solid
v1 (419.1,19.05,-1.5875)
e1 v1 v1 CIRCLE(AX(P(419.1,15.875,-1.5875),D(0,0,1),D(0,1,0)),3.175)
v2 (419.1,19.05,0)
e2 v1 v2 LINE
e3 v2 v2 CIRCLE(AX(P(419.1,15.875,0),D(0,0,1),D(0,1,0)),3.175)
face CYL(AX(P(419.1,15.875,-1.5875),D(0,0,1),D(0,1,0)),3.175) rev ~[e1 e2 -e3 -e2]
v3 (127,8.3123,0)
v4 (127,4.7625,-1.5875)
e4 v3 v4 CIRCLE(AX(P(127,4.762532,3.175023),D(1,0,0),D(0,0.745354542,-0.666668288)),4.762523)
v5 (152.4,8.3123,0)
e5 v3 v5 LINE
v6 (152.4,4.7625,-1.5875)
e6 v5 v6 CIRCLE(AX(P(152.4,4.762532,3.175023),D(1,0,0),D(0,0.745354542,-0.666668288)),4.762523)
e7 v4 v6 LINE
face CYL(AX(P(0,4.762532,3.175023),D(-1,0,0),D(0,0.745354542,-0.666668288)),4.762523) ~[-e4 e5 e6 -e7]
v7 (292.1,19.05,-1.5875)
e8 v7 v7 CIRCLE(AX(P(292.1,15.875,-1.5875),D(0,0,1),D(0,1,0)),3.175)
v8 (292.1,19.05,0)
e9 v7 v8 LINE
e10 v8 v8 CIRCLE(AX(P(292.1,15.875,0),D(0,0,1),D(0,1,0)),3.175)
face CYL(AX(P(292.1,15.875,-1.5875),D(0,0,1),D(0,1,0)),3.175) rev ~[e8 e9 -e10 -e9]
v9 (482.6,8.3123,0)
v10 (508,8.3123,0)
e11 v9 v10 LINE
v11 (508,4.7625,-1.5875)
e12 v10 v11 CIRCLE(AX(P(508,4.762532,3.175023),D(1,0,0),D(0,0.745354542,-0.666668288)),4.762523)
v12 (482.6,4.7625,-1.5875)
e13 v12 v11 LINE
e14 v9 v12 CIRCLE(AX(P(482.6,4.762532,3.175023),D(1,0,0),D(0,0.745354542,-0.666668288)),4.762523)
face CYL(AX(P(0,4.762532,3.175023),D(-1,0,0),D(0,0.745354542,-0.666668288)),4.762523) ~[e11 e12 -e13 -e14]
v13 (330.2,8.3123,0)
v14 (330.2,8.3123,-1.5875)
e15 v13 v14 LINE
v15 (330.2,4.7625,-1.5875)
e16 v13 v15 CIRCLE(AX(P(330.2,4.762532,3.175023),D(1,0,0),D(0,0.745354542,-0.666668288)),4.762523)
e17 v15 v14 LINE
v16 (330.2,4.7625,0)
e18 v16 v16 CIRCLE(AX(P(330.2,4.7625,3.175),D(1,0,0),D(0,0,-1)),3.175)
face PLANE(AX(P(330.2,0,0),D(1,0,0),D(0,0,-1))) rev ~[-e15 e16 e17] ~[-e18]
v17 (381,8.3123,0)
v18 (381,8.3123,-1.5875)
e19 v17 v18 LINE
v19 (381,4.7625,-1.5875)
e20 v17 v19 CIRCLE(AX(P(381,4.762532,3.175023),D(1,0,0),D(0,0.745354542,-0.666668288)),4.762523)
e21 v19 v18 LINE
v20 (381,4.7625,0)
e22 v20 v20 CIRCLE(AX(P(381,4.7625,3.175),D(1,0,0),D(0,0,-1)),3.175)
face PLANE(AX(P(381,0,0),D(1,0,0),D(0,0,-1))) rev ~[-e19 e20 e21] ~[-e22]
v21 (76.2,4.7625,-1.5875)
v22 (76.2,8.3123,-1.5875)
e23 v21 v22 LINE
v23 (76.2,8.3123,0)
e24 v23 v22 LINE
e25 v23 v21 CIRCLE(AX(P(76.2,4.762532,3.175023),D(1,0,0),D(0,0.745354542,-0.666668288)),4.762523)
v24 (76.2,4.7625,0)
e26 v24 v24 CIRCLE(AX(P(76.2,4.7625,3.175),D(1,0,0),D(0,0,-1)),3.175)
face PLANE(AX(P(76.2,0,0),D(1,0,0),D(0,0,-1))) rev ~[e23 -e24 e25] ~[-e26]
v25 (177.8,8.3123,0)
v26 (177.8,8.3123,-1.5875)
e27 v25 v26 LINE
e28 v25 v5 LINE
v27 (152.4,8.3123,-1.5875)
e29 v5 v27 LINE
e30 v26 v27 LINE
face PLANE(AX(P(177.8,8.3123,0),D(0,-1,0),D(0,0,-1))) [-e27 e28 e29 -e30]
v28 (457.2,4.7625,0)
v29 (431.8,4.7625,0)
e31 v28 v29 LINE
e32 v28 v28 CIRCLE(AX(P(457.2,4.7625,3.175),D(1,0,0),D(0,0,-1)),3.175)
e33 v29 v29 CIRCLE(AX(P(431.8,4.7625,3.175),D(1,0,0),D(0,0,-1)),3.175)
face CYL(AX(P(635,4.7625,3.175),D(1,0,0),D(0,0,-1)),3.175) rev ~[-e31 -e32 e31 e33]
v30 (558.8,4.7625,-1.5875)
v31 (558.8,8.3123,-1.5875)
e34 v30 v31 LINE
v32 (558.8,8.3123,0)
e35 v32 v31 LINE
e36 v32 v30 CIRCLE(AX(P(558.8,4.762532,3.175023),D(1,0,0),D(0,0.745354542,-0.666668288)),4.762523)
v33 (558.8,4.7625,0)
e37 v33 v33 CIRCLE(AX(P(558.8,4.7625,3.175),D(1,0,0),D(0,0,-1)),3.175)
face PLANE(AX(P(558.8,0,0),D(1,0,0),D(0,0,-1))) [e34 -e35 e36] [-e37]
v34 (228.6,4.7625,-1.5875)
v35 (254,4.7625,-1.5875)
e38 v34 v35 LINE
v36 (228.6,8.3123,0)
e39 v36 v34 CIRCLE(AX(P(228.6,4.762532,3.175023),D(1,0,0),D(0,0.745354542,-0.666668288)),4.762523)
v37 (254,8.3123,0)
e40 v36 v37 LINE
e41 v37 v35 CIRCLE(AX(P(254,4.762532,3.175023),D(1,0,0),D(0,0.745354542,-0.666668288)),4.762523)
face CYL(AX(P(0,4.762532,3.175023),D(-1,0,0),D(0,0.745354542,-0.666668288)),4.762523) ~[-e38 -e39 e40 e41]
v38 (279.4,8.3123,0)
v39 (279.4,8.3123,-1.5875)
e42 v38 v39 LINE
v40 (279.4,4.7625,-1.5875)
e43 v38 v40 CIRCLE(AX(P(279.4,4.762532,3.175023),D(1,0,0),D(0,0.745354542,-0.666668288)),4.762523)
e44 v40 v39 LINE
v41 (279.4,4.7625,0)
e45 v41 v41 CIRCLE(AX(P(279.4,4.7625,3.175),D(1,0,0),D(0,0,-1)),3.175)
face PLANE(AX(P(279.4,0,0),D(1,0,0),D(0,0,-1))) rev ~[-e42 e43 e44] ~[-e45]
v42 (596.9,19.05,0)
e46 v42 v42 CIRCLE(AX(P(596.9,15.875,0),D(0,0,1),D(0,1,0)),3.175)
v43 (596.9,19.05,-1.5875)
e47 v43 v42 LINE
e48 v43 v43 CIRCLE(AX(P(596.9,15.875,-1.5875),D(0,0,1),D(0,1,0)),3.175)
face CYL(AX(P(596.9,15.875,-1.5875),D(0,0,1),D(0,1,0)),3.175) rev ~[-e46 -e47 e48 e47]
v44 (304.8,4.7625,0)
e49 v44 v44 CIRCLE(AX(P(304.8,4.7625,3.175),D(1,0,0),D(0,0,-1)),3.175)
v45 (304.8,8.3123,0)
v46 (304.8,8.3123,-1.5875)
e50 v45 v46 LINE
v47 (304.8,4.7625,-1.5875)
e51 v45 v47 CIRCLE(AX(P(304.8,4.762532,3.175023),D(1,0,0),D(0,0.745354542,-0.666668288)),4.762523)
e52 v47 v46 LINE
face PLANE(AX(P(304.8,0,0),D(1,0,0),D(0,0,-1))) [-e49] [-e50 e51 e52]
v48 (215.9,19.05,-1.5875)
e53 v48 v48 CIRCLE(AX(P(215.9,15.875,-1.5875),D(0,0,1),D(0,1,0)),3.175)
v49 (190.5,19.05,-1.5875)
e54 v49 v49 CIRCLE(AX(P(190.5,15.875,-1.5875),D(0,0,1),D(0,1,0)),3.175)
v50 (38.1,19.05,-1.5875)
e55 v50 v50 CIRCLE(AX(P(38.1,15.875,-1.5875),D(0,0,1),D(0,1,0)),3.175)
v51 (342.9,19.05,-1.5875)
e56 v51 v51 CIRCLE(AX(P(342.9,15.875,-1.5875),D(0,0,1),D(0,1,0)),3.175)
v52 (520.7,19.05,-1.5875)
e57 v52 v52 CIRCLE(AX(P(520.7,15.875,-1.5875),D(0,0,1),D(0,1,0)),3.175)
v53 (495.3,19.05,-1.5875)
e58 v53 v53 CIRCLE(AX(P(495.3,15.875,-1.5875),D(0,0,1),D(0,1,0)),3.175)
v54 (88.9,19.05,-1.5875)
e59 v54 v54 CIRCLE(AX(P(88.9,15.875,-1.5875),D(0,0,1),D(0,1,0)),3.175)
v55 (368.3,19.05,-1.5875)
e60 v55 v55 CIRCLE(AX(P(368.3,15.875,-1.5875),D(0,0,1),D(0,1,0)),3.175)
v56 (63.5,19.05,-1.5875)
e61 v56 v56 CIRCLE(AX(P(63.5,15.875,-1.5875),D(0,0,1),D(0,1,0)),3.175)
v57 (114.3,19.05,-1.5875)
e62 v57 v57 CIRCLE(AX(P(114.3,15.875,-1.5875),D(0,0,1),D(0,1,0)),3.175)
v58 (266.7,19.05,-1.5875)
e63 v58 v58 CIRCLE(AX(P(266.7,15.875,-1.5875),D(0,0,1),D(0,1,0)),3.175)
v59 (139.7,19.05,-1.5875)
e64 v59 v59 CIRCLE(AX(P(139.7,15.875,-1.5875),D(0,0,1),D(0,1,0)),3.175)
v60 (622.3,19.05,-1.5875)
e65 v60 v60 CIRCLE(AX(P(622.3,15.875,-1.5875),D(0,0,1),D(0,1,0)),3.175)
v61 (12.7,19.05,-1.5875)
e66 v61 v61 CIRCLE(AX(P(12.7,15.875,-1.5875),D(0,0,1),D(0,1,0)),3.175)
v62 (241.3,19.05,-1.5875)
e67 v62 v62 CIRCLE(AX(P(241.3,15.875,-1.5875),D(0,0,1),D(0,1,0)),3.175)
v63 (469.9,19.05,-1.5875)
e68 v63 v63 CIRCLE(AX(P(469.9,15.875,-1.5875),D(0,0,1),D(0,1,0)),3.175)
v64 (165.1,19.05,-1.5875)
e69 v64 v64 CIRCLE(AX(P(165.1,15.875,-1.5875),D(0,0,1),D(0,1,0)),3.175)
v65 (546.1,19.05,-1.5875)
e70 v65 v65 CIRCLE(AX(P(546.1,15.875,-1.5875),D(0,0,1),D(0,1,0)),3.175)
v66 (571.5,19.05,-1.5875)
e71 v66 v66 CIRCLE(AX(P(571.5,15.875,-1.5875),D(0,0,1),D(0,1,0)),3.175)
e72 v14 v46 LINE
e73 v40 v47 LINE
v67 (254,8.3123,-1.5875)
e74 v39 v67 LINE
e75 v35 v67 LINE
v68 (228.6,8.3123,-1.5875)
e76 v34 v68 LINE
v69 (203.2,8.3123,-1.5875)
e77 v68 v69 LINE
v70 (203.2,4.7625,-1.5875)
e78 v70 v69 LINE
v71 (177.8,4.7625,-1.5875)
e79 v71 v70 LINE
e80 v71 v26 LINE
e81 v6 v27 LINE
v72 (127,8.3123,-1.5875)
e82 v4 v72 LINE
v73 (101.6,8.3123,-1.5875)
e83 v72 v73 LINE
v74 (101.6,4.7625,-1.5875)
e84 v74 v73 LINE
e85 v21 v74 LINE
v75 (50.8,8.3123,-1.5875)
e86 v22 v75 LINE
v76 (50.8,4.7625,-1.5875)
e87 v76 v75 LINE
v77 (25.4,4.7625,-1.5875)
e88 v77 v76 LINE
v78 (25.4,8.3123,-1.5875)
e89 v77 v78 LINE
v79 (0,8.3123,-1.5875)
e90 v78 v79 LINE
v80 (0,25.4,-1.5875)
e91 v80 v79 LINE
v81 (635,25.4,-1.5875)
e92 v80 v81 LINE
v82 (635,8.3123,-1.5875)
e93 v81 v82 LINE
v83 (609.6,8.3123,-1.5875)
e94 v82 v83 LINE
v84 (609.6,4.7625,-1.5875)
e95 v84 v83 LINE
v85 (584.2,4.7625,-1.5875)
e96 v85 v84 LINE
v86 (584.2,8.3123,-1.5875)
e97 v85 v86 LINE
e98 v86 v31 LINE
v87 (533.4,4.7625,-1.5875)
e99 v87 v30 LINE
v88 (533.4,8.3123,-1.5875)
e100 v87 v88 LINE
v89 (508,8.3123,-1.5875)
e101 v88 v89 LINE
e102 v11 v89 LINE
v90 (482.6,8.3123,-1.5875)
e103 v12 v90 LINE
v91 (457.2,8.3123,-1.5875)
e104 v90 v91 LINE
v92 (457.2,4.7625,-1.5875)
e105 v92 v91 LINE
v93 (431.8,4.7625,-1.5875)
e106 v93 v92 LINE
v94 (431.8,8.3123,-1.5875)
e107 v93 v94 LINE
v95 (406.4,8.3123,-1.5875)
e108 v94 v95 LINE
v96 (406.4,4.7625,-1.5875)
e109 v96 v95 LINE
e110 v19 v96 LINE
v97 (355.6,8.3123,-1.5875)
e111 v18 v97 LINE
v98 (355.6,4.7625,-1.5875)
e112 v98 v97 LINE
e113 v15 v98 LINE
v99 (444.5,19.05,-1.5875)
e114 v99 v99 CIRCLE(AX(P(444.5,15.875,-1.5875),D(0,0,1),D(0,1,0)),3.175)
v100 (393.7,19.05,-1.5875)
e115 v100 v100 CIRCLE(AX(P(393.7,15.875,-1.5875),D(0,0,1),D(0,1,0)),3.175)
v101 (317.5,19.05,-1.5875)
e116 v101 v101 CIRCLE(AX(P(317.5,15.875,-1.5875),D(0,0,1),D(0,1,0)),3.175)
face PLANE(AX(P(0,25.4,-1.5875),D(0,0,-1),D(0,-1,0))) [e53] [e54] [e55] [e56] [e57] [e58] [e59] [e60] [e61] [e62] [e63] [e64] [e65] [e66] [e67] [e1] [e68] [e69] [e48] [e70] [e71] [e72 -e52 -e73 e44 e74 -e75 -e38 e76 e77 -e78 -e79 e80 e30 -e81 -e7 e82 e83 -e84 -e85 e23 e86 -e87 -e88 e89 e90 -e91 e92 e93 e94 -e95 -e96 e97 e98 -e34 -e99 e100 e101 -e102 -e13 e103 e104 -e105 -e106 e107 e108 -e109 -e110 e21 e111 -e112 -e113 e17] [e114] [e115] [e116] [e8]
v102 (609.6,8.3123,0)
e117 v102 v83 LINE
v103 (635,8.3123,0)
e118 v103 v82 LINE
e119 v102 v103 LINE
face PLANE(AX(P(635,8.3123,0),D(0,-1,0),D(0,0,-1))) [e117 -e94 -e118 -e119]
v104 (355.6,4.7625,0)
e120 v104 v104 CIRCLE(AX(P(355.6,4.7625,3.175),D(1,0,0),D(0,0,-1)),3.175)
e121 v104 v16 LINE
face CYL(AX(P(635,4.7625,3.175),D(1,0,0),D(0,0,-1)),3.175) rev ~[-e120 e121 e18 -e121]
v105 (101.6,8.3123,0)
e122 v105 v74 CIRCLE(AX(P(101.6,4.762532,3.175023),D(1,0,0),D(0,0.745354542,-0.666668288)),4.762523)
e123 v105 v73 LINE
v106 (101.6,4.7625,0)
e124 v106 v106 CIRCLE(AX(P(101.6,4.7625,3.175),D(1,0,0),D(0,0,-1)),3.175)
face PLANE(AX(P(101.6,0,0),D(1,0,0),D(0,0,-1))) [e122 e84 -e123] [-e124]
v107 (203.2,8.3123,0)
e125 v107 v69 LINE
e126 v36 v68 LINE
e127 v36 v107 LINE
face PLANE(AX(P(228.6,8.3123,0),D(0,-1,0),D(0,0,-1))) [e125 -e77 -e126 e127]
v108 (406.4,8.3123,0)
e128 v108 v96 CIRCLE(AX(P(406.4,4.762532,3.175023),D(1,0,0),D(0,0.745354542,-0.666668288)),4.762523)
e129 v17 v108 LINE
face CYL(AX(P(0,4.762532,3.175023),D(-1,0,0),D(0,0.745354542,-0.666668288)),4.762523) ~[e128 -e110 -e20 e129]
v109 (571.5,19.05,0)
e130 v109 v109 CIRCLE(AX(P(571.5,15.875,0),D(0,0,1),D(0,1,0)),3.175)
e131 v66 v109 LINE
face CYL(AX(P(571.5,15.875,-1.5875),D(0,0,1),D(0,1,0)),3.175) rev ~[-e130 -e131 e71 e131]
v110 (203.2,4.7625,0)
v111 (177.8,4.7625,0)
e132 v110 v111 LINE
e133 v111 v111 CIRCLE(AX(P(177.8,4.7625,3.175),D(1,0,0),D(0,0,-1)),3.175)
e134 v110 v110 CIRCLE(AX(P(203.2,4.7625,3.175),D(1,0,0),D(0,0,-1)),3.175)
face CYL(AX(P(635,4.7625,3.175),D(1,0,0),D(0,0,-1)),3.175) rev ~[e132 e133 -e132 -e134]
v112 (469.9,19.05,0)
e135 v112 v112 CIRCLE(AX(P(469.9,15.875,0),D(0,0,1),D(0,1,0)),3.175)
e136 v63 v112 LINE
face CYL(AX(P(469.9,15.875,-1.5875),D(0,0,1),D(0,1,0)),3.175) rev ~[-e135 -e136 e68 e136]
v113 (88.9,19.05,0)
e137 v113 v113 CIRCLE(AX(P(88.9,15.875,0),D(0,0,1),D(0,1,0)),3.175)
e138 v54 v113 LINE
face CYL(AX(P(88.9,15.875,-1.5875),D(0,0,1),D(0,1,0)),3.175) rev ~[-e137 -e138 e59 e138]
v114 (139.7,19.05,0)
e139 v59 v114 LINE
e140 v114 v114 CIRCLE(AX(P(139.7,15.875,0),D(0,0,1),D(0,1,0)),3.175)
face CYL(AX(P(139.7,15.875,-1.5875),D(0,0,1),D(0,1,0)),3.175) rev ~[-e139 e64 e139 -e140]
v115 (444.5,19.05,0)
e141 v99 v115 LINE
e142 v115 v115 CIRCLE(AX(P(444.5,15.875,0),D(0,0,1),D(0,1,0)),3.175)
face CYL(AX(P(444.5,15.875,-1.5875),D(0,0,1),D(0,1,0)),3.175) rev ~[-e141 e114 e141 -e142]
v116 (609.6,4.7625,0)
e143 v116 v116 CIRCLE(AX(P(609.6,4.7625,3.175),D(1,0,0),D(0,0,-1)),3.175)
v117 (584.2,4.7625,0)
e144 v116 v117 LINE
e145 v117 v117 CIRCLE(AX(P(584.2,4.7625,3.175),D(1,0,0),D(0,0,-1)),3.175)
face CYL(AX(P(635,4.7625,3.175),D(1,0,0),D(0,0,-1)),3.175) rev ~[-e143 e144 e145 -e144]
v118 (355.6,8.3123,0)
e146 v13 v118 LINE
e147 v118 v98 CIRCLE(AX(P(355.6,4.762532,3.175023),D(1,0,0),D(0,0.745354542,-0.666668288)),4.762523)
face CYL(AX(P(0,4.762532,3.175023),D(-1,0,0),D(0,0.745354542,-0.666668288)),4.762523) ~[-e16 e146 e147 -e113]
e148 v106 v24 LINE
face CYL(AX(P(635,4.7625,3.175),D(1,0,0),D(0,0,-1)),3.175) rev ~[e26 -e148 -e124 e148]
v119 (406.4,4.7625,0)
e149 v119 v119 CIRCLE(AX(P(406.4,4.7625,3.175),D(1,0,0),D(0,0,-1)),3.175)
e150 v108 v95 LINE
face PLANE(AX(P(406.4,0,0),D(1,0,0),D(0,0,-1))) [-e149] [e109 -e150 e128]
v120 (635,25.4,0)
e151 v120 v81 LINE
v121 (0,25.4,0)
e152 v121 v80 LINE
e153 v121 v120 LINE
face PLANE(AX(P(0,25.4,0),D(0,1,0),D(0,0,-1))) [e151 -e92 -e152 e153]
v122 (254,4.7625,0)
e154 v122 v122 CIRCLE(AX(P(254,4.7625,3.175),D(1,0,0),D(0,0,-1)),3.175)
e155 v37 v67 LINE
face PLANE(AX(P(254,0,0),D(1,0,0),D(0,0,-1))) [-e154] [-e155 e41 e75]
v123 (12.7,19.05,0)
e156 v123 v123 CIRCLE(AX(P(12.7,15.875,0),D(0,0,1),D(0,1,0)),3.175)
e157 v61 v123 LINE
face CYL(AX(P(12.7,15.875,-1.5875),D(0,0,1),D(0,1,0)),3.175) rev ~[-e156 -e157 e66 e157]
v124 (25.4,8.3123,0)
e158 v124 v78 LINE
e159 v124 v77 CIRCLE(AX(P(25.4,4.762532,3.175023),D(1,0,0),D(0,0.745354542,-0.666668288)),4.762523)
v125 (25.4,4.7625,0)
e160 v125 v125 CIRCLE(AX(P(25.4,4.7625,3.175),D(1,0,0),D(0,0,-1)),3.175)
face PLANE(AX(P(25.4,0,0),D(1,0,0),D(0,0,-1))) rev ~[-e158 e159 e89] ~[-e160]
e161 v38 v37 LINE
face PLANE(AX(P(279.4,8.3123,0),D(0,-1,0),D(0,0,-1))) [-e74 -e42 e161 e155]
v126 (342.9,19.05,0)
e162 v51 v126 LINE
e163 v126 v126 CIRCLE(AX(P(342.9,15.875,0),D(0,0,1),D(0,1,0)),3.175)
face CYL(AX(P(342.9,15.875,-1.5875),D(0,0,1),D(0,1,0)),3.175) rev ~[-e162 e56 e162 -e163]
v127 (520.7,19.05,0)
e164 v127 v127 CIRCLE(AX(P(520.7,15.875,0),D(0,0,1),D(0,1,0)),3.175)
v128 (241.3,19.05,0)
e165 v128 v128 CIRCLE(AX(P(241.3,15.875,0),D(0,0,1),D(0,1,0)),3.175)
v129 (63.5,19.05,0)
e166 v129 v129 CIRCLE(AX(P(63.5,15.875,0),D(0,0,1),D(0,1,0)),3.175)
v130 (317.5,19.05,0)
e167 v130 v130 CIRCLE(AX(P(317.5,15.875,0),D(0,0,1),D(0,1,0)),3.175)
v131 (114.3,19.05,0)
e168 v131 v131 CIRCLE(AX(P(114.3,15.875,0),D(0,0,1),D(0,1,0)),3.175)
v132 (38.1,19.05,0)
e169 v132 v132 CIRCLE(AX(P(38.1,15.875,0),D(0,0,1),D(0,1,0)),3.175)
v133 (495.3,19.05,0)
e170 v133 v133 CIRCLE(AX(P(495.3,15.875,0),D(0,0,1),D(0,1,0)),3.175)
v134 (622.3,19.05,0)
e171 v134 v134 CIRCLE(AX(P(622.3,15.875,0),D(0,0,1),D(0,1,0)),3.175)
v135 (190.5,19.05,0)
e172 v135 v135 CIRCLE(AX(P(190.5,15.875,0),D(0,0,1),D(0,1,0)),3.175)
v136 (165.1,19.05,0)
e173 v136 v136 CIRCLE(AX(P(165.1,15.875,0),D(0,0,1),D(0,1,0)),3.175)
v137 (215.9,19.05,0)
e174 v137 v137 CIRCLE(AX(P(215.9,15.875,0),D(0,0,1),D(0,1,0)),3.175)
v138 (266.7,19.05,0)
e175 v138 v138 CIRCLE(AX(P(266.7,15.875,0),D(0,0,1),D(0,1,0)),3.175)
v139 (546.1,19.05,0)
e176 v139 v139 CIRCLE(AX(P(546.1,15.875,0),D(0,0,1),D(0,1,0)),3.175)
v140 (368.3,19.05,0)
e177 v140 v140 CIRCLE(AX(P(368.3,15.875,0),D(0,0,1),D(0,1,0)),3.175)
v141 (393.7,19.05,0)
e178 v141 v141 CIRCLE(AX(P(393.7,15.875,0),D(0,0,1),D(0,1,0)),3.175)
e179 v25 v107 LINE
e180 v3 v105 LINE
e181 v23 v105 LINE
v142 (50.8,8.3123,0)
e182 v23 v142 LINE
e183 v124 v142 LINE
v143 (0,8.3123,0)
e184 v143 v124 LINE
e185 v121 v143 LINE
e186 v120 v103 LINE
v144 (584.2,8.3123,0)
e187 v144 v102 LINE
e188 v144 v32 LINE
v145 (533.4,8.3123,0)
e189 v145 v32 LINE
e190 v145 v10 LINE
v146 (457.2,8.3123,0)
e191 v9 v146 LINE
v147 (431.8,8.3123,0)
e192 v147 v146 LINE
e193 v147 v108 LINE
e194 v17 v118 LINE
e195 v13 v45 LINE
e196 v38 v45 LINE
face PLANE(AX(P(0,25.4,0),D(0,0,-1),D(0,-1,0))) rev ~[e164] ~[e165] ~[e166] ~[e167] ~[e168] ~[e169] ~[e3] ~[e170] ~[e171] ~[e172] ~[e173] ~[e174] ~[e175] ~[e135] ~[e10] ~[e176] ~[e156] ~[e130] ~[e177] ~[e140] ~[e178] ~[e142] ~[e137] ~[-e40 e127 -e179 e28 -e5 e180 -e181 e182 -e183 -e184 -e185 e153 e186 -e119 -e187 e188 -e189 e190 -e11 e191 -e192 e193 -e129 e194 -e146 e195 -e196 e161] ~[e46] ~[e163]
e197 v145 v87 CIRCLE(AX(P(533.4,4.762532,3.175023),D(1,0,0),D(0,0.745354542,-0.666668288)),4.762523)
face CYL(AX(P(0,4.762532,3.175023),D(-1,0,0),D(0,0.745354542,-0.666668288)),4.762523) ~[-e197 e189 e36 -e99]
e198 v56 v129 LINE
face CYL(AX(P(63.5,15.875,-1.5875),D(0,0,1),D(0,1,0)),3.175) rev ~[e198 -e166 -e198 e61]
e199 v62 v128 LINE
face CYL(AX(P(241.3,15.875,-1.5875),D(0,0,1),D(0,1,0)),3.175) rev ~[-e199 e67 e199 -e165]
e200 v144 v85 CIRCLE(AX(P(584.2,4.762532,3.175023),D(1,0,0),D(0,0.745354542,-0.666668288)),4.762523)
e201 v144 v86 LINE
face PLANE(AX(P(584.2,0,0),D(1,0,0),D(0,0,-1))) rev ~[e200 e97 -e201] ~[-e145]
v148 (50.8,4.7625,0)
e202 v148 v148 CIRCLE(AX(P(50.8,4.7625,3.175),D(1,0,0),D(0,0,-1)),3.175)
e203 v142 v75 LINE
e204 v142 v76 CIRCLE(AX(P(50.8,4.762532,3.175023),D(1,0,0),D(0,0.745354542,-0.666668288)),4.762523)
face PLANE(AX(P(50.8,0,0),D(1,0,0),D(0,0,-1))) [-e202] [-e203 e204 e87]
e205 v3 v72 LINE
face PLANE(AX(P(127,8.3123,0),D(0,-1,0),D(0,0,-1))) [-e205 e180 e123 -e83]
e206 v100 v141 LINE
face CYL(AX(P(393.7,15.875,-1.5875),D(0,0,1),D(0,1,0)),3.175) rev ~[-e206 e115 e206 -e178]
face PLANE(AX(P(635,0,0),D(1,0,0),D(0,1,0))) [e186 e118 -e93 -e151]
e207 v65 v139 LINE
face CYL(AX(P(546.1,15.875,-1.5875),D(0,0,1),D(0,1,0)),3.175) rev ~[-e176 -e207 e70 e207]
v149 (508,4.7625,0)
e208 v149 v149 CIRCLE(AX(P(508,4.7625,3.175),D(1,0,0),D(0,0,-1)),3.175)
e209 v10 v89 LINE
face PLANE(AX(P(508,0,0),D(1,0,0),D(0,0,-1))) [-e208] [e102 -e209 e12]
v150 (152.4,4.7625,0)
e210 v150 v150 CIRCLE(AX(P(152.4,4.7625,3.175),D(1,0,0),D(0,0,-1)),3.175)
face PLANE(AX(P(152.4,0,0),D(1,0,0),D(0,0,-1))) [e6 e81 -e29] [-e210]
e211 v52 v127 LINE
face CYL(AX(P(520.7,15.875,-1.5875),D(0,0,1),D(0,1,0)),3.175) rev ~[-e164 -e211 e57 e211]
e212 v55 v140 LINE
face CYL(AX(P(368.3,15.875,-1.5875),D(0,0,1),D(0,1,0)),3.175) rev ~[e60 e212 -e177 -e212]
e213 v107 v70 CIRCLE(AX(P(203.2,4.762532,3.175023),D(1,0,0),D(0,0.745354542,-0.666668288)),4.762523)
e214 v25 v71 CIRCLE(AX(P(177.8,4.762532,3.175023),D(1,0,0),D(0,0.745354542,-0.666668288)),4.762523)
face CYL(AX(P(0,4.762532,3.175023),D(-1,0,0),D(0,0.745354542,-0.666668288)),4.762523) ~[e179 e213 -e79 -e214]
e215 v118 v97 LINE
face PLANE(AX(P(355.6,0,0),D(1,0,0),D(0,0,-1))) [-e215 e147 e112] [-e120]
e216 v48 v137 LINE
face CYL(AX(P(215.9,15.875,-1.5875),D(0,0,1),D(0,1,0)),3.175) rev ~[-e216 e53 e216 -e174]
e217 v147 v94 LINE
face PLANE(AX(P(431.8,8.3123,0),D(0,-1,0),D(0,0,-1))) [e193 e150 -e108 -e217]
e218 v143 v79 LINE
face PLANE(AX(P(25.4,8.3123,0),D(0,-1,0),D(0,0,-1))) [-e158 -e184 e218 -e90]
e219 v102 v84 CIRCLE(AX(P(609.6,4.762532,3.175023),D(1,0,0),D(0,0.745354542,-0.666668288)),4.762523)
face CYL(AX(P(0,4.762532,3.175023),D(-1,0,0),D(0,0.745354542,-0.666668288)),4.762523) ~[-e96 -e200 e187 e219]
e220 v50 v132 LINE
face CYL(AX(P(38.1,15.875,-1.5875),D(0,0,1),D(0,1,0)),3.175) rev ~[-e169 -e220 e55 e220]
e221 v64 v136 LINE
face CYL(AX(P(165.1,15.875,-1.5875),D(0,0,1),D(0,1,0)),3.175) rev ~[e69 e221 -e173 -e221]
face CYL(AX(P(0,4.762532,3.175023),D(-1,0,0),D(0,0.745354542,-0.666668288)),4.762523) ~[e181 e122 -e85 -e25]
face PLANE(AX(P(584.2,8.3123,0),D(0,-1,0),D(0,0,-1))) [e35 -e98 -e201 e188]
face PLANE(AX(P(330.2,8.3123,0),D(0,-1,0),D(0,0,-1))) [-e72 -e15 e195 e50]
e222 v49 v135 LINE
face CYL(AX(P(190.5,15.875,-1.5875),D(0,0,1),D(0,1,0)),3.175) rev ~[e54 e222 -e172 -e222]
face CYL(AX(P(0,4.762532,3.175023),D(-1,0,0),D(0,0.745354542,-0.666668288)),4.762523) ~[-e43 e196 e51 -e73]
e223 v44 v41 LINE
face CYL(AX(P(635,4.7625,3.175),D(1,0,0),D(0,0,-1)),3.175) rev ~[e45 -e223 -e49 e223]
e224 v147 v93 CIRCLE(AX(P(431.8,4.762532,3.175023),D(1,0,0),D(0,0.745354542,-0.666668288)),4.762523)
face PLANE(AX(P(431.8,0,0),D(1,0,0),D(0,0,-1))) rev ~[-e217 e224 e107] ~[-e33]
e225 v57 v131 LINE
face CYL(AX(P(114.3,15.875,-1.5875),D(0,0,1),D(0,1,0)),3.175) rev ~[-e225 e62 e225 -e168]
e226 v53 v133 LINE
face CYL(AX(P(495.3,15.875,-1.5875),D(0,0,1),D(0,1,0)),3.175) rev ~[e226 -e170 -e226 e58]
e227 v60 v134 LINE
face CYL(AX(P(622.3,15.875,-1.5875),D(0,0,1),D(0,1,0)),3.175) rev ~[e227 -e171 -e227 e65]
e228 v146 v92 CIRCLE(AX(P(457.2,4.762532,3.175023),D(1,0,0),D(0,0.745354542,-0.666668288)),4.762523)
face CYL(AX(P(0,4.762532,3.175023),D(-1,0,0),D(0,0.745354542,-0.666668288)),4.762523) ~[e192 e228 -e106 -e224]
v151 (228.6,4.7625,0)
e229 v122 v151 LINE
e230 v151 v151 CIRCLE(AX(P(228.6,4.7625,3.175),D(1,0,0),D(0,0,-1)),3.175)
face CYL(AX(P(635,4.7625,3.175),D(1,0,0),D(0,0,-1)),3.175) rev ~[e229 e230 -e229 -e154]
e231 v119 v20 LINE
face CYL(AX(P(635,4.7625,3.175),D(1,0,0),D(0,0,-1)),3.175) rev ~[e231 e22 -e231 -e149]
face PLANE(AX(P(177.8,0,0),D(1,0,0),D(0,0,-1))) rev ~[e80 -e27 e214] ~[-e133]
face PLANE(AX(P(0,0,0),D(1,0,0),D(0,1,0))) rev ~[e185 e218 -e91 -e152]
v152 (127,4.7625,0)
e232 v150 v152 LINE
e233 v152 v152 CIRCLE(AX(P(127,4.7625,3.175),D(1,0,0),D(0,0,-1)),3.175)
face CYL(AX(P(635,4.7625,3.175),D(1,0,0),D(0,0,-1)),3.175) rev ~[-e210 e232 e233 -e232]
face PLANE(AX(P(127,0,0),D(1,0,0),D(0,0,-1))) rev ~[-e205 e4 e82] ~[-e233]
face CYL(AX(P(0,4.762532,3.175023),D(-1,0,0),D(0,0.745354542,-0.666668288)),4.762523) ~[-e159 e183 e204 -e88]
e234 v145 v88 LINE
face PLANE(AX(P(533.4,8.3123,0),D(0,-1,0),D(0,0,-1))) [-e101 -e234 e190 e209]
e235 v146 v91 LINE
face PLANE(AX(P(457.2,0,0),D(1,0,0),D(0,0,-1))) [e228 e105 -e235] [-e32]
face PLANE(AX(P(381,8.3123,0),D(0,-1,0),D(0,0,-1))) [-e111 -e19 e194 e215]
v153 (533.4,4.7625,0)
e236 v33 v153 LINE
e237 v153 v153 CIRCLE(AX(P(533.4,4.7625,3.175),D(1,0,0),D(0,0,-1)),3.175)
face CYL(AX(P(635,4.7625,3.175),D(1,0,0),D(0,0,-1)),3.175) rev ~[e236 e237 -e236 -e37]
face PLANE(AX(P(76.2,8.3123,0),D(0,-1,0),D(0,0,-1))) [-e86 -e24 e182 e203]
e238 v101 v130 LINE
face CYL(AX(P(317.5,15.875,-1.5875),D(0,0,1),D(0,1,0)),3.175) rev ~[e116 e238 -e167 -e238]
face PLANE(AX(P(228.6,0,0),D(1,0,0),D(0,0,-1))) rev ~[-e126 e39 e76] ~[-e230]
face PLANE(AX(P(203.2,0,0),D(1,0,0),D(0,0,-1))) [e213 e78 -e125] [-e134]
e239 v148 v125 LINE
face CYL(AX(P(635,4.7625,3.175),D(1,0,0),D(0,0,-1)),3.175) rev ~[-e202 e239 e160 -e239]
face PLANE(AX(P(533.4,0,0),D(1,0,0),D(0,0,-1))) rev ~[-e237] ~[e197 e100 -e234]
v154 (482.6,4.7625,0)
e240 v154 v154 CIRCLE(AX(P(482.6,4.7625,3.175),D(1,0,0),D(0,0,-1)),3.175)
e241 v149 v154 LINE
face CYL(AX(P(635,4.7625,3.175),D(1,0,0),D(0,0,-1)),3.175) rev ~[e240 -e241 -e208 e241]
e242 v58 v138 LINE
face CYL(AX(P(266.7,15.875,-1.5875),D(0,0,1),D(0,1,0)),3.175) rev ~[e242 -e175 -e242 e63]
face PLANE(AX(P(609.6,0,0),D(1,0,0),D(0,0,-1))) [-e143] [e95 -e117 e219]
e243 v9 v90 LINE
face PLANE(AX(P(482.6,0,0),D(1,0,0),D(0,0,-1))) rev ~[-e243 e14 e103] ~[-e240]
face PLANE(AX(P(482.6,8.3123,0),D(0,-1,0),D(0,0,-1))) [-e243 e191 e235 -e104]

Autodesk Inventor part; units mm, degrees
ref_plane "YZ Plane" through (0, 0, 0) normal (1, 0, 0) x (0, 1, 0)
ref_plane "XZ Plane" through (0, 0, 0) normal (0, 1, 0) x (-1, 0, 0)
ref_plane "XY Plane" through (0, 0, 0) normal (0, 0, 1) x (1, 0, 0)
sketch "Sketch1" plane through (0, 0, 0) normal (1, 0, 0) x (0, 1, 0)
  line L0 (0, 0) -> (25.4, 0) construction
  line L1 (25.4, 0) -> (25.4, -1.5875) construction
  line L2 (25.4, -1.5875) -> (0, -1.5875) construction
  line L3 (0, -1.5875) -> (0, 0) construction
  circle A0 centre (4.7625, 3.175) radius 4.7625 construction
  line L4 (25.4, 0) -> (25.4, -1.5875)
  line L5 (25.4, -1.5875) -> (4.7625, -1.5875)
  line L6 (25.4, 0) -> (8.3123, 0)
  arc A1 (8.3123, 0) -> (4.7625, -1.5875) centre (4.7625, 3.175) ccw
  dimension "d0" = 25.4
  dimension "d1" = 1.5875
  dimension "d2" = 9.525
  dimension "d3" = 4.7625
  dimension "d4" = 3.175
extrude "Extrusion1" add sketch "Sketch1" along normal blind 635
sketch "Sketch2" plane through (635, 0, 0) normal (1, 0, 0) x (0, 0, -1)
  arc A0 (0, 8.3123) -> (1.5875, 4.7625) centre (-3.175, 4.7625) ccw projected
  circle A1 centre (-3.175, 4.7625) radius 3.175
  point P0 (0, 0)
  dimension "d7" = 6.35
extrude "Extrusion2" cut sketch "Sketch2" against normal blind 635
sketch "Sketch3" plane through (635, 0, 0) normal (1, 0, 0) x (0, 0, -1)
  circle A0 centre (-3.175, 4.7625) radius 3.175 projected
  arc A1 (0, 8.3123) -> (1.5875, 4.7625) centre (-3.175, 4.7625) ccw projected
  line L0 (1.5875, 4.7625) -> (1.5875, 25.4) projected
  line L1 (0, 8.3123) -> (1.5875, 8.3123)
  line L2 (1.5875, 8.3123) -> (1.5875, 4.7625)
  arc A2 (0, 8.3123) -> (1.5875, 4.7625) centre (-3.175, 4.7625) ccw
  point P0 (0, 0)
extrude "Extrusion3" cut sketch "Sketch3" against normal blind 25.4
pattern_linear "Rectangular Pattern1" count 13 spacing 50.8 along (-1, 0, 0) of "Extrusion3"
sketch "Sketch4" plane through (635, 25.4, -1.5875) normal (0, 0, -1) x (-1, 0, 0)
  line L0 (635, 0) -> (0, 0) projected
  line L1 (0, -17.0877) -> (0, 0) projected
  point P0 (635, -25.4)
  point P1 (12.7, -9.525)
  dimension "d15" = 9.525
  dimension "d16" = 12.7
hole "Hole1" at (622.3, 15.875, -1.5875) direction (0, 0, 1) diameter 6.35 end through all
pattern_linear "Rectangular Pattern2" count 25 spacing 25.4 along (-1, 0, 0) of "Hole1"
properties part number "continuous hinge"
